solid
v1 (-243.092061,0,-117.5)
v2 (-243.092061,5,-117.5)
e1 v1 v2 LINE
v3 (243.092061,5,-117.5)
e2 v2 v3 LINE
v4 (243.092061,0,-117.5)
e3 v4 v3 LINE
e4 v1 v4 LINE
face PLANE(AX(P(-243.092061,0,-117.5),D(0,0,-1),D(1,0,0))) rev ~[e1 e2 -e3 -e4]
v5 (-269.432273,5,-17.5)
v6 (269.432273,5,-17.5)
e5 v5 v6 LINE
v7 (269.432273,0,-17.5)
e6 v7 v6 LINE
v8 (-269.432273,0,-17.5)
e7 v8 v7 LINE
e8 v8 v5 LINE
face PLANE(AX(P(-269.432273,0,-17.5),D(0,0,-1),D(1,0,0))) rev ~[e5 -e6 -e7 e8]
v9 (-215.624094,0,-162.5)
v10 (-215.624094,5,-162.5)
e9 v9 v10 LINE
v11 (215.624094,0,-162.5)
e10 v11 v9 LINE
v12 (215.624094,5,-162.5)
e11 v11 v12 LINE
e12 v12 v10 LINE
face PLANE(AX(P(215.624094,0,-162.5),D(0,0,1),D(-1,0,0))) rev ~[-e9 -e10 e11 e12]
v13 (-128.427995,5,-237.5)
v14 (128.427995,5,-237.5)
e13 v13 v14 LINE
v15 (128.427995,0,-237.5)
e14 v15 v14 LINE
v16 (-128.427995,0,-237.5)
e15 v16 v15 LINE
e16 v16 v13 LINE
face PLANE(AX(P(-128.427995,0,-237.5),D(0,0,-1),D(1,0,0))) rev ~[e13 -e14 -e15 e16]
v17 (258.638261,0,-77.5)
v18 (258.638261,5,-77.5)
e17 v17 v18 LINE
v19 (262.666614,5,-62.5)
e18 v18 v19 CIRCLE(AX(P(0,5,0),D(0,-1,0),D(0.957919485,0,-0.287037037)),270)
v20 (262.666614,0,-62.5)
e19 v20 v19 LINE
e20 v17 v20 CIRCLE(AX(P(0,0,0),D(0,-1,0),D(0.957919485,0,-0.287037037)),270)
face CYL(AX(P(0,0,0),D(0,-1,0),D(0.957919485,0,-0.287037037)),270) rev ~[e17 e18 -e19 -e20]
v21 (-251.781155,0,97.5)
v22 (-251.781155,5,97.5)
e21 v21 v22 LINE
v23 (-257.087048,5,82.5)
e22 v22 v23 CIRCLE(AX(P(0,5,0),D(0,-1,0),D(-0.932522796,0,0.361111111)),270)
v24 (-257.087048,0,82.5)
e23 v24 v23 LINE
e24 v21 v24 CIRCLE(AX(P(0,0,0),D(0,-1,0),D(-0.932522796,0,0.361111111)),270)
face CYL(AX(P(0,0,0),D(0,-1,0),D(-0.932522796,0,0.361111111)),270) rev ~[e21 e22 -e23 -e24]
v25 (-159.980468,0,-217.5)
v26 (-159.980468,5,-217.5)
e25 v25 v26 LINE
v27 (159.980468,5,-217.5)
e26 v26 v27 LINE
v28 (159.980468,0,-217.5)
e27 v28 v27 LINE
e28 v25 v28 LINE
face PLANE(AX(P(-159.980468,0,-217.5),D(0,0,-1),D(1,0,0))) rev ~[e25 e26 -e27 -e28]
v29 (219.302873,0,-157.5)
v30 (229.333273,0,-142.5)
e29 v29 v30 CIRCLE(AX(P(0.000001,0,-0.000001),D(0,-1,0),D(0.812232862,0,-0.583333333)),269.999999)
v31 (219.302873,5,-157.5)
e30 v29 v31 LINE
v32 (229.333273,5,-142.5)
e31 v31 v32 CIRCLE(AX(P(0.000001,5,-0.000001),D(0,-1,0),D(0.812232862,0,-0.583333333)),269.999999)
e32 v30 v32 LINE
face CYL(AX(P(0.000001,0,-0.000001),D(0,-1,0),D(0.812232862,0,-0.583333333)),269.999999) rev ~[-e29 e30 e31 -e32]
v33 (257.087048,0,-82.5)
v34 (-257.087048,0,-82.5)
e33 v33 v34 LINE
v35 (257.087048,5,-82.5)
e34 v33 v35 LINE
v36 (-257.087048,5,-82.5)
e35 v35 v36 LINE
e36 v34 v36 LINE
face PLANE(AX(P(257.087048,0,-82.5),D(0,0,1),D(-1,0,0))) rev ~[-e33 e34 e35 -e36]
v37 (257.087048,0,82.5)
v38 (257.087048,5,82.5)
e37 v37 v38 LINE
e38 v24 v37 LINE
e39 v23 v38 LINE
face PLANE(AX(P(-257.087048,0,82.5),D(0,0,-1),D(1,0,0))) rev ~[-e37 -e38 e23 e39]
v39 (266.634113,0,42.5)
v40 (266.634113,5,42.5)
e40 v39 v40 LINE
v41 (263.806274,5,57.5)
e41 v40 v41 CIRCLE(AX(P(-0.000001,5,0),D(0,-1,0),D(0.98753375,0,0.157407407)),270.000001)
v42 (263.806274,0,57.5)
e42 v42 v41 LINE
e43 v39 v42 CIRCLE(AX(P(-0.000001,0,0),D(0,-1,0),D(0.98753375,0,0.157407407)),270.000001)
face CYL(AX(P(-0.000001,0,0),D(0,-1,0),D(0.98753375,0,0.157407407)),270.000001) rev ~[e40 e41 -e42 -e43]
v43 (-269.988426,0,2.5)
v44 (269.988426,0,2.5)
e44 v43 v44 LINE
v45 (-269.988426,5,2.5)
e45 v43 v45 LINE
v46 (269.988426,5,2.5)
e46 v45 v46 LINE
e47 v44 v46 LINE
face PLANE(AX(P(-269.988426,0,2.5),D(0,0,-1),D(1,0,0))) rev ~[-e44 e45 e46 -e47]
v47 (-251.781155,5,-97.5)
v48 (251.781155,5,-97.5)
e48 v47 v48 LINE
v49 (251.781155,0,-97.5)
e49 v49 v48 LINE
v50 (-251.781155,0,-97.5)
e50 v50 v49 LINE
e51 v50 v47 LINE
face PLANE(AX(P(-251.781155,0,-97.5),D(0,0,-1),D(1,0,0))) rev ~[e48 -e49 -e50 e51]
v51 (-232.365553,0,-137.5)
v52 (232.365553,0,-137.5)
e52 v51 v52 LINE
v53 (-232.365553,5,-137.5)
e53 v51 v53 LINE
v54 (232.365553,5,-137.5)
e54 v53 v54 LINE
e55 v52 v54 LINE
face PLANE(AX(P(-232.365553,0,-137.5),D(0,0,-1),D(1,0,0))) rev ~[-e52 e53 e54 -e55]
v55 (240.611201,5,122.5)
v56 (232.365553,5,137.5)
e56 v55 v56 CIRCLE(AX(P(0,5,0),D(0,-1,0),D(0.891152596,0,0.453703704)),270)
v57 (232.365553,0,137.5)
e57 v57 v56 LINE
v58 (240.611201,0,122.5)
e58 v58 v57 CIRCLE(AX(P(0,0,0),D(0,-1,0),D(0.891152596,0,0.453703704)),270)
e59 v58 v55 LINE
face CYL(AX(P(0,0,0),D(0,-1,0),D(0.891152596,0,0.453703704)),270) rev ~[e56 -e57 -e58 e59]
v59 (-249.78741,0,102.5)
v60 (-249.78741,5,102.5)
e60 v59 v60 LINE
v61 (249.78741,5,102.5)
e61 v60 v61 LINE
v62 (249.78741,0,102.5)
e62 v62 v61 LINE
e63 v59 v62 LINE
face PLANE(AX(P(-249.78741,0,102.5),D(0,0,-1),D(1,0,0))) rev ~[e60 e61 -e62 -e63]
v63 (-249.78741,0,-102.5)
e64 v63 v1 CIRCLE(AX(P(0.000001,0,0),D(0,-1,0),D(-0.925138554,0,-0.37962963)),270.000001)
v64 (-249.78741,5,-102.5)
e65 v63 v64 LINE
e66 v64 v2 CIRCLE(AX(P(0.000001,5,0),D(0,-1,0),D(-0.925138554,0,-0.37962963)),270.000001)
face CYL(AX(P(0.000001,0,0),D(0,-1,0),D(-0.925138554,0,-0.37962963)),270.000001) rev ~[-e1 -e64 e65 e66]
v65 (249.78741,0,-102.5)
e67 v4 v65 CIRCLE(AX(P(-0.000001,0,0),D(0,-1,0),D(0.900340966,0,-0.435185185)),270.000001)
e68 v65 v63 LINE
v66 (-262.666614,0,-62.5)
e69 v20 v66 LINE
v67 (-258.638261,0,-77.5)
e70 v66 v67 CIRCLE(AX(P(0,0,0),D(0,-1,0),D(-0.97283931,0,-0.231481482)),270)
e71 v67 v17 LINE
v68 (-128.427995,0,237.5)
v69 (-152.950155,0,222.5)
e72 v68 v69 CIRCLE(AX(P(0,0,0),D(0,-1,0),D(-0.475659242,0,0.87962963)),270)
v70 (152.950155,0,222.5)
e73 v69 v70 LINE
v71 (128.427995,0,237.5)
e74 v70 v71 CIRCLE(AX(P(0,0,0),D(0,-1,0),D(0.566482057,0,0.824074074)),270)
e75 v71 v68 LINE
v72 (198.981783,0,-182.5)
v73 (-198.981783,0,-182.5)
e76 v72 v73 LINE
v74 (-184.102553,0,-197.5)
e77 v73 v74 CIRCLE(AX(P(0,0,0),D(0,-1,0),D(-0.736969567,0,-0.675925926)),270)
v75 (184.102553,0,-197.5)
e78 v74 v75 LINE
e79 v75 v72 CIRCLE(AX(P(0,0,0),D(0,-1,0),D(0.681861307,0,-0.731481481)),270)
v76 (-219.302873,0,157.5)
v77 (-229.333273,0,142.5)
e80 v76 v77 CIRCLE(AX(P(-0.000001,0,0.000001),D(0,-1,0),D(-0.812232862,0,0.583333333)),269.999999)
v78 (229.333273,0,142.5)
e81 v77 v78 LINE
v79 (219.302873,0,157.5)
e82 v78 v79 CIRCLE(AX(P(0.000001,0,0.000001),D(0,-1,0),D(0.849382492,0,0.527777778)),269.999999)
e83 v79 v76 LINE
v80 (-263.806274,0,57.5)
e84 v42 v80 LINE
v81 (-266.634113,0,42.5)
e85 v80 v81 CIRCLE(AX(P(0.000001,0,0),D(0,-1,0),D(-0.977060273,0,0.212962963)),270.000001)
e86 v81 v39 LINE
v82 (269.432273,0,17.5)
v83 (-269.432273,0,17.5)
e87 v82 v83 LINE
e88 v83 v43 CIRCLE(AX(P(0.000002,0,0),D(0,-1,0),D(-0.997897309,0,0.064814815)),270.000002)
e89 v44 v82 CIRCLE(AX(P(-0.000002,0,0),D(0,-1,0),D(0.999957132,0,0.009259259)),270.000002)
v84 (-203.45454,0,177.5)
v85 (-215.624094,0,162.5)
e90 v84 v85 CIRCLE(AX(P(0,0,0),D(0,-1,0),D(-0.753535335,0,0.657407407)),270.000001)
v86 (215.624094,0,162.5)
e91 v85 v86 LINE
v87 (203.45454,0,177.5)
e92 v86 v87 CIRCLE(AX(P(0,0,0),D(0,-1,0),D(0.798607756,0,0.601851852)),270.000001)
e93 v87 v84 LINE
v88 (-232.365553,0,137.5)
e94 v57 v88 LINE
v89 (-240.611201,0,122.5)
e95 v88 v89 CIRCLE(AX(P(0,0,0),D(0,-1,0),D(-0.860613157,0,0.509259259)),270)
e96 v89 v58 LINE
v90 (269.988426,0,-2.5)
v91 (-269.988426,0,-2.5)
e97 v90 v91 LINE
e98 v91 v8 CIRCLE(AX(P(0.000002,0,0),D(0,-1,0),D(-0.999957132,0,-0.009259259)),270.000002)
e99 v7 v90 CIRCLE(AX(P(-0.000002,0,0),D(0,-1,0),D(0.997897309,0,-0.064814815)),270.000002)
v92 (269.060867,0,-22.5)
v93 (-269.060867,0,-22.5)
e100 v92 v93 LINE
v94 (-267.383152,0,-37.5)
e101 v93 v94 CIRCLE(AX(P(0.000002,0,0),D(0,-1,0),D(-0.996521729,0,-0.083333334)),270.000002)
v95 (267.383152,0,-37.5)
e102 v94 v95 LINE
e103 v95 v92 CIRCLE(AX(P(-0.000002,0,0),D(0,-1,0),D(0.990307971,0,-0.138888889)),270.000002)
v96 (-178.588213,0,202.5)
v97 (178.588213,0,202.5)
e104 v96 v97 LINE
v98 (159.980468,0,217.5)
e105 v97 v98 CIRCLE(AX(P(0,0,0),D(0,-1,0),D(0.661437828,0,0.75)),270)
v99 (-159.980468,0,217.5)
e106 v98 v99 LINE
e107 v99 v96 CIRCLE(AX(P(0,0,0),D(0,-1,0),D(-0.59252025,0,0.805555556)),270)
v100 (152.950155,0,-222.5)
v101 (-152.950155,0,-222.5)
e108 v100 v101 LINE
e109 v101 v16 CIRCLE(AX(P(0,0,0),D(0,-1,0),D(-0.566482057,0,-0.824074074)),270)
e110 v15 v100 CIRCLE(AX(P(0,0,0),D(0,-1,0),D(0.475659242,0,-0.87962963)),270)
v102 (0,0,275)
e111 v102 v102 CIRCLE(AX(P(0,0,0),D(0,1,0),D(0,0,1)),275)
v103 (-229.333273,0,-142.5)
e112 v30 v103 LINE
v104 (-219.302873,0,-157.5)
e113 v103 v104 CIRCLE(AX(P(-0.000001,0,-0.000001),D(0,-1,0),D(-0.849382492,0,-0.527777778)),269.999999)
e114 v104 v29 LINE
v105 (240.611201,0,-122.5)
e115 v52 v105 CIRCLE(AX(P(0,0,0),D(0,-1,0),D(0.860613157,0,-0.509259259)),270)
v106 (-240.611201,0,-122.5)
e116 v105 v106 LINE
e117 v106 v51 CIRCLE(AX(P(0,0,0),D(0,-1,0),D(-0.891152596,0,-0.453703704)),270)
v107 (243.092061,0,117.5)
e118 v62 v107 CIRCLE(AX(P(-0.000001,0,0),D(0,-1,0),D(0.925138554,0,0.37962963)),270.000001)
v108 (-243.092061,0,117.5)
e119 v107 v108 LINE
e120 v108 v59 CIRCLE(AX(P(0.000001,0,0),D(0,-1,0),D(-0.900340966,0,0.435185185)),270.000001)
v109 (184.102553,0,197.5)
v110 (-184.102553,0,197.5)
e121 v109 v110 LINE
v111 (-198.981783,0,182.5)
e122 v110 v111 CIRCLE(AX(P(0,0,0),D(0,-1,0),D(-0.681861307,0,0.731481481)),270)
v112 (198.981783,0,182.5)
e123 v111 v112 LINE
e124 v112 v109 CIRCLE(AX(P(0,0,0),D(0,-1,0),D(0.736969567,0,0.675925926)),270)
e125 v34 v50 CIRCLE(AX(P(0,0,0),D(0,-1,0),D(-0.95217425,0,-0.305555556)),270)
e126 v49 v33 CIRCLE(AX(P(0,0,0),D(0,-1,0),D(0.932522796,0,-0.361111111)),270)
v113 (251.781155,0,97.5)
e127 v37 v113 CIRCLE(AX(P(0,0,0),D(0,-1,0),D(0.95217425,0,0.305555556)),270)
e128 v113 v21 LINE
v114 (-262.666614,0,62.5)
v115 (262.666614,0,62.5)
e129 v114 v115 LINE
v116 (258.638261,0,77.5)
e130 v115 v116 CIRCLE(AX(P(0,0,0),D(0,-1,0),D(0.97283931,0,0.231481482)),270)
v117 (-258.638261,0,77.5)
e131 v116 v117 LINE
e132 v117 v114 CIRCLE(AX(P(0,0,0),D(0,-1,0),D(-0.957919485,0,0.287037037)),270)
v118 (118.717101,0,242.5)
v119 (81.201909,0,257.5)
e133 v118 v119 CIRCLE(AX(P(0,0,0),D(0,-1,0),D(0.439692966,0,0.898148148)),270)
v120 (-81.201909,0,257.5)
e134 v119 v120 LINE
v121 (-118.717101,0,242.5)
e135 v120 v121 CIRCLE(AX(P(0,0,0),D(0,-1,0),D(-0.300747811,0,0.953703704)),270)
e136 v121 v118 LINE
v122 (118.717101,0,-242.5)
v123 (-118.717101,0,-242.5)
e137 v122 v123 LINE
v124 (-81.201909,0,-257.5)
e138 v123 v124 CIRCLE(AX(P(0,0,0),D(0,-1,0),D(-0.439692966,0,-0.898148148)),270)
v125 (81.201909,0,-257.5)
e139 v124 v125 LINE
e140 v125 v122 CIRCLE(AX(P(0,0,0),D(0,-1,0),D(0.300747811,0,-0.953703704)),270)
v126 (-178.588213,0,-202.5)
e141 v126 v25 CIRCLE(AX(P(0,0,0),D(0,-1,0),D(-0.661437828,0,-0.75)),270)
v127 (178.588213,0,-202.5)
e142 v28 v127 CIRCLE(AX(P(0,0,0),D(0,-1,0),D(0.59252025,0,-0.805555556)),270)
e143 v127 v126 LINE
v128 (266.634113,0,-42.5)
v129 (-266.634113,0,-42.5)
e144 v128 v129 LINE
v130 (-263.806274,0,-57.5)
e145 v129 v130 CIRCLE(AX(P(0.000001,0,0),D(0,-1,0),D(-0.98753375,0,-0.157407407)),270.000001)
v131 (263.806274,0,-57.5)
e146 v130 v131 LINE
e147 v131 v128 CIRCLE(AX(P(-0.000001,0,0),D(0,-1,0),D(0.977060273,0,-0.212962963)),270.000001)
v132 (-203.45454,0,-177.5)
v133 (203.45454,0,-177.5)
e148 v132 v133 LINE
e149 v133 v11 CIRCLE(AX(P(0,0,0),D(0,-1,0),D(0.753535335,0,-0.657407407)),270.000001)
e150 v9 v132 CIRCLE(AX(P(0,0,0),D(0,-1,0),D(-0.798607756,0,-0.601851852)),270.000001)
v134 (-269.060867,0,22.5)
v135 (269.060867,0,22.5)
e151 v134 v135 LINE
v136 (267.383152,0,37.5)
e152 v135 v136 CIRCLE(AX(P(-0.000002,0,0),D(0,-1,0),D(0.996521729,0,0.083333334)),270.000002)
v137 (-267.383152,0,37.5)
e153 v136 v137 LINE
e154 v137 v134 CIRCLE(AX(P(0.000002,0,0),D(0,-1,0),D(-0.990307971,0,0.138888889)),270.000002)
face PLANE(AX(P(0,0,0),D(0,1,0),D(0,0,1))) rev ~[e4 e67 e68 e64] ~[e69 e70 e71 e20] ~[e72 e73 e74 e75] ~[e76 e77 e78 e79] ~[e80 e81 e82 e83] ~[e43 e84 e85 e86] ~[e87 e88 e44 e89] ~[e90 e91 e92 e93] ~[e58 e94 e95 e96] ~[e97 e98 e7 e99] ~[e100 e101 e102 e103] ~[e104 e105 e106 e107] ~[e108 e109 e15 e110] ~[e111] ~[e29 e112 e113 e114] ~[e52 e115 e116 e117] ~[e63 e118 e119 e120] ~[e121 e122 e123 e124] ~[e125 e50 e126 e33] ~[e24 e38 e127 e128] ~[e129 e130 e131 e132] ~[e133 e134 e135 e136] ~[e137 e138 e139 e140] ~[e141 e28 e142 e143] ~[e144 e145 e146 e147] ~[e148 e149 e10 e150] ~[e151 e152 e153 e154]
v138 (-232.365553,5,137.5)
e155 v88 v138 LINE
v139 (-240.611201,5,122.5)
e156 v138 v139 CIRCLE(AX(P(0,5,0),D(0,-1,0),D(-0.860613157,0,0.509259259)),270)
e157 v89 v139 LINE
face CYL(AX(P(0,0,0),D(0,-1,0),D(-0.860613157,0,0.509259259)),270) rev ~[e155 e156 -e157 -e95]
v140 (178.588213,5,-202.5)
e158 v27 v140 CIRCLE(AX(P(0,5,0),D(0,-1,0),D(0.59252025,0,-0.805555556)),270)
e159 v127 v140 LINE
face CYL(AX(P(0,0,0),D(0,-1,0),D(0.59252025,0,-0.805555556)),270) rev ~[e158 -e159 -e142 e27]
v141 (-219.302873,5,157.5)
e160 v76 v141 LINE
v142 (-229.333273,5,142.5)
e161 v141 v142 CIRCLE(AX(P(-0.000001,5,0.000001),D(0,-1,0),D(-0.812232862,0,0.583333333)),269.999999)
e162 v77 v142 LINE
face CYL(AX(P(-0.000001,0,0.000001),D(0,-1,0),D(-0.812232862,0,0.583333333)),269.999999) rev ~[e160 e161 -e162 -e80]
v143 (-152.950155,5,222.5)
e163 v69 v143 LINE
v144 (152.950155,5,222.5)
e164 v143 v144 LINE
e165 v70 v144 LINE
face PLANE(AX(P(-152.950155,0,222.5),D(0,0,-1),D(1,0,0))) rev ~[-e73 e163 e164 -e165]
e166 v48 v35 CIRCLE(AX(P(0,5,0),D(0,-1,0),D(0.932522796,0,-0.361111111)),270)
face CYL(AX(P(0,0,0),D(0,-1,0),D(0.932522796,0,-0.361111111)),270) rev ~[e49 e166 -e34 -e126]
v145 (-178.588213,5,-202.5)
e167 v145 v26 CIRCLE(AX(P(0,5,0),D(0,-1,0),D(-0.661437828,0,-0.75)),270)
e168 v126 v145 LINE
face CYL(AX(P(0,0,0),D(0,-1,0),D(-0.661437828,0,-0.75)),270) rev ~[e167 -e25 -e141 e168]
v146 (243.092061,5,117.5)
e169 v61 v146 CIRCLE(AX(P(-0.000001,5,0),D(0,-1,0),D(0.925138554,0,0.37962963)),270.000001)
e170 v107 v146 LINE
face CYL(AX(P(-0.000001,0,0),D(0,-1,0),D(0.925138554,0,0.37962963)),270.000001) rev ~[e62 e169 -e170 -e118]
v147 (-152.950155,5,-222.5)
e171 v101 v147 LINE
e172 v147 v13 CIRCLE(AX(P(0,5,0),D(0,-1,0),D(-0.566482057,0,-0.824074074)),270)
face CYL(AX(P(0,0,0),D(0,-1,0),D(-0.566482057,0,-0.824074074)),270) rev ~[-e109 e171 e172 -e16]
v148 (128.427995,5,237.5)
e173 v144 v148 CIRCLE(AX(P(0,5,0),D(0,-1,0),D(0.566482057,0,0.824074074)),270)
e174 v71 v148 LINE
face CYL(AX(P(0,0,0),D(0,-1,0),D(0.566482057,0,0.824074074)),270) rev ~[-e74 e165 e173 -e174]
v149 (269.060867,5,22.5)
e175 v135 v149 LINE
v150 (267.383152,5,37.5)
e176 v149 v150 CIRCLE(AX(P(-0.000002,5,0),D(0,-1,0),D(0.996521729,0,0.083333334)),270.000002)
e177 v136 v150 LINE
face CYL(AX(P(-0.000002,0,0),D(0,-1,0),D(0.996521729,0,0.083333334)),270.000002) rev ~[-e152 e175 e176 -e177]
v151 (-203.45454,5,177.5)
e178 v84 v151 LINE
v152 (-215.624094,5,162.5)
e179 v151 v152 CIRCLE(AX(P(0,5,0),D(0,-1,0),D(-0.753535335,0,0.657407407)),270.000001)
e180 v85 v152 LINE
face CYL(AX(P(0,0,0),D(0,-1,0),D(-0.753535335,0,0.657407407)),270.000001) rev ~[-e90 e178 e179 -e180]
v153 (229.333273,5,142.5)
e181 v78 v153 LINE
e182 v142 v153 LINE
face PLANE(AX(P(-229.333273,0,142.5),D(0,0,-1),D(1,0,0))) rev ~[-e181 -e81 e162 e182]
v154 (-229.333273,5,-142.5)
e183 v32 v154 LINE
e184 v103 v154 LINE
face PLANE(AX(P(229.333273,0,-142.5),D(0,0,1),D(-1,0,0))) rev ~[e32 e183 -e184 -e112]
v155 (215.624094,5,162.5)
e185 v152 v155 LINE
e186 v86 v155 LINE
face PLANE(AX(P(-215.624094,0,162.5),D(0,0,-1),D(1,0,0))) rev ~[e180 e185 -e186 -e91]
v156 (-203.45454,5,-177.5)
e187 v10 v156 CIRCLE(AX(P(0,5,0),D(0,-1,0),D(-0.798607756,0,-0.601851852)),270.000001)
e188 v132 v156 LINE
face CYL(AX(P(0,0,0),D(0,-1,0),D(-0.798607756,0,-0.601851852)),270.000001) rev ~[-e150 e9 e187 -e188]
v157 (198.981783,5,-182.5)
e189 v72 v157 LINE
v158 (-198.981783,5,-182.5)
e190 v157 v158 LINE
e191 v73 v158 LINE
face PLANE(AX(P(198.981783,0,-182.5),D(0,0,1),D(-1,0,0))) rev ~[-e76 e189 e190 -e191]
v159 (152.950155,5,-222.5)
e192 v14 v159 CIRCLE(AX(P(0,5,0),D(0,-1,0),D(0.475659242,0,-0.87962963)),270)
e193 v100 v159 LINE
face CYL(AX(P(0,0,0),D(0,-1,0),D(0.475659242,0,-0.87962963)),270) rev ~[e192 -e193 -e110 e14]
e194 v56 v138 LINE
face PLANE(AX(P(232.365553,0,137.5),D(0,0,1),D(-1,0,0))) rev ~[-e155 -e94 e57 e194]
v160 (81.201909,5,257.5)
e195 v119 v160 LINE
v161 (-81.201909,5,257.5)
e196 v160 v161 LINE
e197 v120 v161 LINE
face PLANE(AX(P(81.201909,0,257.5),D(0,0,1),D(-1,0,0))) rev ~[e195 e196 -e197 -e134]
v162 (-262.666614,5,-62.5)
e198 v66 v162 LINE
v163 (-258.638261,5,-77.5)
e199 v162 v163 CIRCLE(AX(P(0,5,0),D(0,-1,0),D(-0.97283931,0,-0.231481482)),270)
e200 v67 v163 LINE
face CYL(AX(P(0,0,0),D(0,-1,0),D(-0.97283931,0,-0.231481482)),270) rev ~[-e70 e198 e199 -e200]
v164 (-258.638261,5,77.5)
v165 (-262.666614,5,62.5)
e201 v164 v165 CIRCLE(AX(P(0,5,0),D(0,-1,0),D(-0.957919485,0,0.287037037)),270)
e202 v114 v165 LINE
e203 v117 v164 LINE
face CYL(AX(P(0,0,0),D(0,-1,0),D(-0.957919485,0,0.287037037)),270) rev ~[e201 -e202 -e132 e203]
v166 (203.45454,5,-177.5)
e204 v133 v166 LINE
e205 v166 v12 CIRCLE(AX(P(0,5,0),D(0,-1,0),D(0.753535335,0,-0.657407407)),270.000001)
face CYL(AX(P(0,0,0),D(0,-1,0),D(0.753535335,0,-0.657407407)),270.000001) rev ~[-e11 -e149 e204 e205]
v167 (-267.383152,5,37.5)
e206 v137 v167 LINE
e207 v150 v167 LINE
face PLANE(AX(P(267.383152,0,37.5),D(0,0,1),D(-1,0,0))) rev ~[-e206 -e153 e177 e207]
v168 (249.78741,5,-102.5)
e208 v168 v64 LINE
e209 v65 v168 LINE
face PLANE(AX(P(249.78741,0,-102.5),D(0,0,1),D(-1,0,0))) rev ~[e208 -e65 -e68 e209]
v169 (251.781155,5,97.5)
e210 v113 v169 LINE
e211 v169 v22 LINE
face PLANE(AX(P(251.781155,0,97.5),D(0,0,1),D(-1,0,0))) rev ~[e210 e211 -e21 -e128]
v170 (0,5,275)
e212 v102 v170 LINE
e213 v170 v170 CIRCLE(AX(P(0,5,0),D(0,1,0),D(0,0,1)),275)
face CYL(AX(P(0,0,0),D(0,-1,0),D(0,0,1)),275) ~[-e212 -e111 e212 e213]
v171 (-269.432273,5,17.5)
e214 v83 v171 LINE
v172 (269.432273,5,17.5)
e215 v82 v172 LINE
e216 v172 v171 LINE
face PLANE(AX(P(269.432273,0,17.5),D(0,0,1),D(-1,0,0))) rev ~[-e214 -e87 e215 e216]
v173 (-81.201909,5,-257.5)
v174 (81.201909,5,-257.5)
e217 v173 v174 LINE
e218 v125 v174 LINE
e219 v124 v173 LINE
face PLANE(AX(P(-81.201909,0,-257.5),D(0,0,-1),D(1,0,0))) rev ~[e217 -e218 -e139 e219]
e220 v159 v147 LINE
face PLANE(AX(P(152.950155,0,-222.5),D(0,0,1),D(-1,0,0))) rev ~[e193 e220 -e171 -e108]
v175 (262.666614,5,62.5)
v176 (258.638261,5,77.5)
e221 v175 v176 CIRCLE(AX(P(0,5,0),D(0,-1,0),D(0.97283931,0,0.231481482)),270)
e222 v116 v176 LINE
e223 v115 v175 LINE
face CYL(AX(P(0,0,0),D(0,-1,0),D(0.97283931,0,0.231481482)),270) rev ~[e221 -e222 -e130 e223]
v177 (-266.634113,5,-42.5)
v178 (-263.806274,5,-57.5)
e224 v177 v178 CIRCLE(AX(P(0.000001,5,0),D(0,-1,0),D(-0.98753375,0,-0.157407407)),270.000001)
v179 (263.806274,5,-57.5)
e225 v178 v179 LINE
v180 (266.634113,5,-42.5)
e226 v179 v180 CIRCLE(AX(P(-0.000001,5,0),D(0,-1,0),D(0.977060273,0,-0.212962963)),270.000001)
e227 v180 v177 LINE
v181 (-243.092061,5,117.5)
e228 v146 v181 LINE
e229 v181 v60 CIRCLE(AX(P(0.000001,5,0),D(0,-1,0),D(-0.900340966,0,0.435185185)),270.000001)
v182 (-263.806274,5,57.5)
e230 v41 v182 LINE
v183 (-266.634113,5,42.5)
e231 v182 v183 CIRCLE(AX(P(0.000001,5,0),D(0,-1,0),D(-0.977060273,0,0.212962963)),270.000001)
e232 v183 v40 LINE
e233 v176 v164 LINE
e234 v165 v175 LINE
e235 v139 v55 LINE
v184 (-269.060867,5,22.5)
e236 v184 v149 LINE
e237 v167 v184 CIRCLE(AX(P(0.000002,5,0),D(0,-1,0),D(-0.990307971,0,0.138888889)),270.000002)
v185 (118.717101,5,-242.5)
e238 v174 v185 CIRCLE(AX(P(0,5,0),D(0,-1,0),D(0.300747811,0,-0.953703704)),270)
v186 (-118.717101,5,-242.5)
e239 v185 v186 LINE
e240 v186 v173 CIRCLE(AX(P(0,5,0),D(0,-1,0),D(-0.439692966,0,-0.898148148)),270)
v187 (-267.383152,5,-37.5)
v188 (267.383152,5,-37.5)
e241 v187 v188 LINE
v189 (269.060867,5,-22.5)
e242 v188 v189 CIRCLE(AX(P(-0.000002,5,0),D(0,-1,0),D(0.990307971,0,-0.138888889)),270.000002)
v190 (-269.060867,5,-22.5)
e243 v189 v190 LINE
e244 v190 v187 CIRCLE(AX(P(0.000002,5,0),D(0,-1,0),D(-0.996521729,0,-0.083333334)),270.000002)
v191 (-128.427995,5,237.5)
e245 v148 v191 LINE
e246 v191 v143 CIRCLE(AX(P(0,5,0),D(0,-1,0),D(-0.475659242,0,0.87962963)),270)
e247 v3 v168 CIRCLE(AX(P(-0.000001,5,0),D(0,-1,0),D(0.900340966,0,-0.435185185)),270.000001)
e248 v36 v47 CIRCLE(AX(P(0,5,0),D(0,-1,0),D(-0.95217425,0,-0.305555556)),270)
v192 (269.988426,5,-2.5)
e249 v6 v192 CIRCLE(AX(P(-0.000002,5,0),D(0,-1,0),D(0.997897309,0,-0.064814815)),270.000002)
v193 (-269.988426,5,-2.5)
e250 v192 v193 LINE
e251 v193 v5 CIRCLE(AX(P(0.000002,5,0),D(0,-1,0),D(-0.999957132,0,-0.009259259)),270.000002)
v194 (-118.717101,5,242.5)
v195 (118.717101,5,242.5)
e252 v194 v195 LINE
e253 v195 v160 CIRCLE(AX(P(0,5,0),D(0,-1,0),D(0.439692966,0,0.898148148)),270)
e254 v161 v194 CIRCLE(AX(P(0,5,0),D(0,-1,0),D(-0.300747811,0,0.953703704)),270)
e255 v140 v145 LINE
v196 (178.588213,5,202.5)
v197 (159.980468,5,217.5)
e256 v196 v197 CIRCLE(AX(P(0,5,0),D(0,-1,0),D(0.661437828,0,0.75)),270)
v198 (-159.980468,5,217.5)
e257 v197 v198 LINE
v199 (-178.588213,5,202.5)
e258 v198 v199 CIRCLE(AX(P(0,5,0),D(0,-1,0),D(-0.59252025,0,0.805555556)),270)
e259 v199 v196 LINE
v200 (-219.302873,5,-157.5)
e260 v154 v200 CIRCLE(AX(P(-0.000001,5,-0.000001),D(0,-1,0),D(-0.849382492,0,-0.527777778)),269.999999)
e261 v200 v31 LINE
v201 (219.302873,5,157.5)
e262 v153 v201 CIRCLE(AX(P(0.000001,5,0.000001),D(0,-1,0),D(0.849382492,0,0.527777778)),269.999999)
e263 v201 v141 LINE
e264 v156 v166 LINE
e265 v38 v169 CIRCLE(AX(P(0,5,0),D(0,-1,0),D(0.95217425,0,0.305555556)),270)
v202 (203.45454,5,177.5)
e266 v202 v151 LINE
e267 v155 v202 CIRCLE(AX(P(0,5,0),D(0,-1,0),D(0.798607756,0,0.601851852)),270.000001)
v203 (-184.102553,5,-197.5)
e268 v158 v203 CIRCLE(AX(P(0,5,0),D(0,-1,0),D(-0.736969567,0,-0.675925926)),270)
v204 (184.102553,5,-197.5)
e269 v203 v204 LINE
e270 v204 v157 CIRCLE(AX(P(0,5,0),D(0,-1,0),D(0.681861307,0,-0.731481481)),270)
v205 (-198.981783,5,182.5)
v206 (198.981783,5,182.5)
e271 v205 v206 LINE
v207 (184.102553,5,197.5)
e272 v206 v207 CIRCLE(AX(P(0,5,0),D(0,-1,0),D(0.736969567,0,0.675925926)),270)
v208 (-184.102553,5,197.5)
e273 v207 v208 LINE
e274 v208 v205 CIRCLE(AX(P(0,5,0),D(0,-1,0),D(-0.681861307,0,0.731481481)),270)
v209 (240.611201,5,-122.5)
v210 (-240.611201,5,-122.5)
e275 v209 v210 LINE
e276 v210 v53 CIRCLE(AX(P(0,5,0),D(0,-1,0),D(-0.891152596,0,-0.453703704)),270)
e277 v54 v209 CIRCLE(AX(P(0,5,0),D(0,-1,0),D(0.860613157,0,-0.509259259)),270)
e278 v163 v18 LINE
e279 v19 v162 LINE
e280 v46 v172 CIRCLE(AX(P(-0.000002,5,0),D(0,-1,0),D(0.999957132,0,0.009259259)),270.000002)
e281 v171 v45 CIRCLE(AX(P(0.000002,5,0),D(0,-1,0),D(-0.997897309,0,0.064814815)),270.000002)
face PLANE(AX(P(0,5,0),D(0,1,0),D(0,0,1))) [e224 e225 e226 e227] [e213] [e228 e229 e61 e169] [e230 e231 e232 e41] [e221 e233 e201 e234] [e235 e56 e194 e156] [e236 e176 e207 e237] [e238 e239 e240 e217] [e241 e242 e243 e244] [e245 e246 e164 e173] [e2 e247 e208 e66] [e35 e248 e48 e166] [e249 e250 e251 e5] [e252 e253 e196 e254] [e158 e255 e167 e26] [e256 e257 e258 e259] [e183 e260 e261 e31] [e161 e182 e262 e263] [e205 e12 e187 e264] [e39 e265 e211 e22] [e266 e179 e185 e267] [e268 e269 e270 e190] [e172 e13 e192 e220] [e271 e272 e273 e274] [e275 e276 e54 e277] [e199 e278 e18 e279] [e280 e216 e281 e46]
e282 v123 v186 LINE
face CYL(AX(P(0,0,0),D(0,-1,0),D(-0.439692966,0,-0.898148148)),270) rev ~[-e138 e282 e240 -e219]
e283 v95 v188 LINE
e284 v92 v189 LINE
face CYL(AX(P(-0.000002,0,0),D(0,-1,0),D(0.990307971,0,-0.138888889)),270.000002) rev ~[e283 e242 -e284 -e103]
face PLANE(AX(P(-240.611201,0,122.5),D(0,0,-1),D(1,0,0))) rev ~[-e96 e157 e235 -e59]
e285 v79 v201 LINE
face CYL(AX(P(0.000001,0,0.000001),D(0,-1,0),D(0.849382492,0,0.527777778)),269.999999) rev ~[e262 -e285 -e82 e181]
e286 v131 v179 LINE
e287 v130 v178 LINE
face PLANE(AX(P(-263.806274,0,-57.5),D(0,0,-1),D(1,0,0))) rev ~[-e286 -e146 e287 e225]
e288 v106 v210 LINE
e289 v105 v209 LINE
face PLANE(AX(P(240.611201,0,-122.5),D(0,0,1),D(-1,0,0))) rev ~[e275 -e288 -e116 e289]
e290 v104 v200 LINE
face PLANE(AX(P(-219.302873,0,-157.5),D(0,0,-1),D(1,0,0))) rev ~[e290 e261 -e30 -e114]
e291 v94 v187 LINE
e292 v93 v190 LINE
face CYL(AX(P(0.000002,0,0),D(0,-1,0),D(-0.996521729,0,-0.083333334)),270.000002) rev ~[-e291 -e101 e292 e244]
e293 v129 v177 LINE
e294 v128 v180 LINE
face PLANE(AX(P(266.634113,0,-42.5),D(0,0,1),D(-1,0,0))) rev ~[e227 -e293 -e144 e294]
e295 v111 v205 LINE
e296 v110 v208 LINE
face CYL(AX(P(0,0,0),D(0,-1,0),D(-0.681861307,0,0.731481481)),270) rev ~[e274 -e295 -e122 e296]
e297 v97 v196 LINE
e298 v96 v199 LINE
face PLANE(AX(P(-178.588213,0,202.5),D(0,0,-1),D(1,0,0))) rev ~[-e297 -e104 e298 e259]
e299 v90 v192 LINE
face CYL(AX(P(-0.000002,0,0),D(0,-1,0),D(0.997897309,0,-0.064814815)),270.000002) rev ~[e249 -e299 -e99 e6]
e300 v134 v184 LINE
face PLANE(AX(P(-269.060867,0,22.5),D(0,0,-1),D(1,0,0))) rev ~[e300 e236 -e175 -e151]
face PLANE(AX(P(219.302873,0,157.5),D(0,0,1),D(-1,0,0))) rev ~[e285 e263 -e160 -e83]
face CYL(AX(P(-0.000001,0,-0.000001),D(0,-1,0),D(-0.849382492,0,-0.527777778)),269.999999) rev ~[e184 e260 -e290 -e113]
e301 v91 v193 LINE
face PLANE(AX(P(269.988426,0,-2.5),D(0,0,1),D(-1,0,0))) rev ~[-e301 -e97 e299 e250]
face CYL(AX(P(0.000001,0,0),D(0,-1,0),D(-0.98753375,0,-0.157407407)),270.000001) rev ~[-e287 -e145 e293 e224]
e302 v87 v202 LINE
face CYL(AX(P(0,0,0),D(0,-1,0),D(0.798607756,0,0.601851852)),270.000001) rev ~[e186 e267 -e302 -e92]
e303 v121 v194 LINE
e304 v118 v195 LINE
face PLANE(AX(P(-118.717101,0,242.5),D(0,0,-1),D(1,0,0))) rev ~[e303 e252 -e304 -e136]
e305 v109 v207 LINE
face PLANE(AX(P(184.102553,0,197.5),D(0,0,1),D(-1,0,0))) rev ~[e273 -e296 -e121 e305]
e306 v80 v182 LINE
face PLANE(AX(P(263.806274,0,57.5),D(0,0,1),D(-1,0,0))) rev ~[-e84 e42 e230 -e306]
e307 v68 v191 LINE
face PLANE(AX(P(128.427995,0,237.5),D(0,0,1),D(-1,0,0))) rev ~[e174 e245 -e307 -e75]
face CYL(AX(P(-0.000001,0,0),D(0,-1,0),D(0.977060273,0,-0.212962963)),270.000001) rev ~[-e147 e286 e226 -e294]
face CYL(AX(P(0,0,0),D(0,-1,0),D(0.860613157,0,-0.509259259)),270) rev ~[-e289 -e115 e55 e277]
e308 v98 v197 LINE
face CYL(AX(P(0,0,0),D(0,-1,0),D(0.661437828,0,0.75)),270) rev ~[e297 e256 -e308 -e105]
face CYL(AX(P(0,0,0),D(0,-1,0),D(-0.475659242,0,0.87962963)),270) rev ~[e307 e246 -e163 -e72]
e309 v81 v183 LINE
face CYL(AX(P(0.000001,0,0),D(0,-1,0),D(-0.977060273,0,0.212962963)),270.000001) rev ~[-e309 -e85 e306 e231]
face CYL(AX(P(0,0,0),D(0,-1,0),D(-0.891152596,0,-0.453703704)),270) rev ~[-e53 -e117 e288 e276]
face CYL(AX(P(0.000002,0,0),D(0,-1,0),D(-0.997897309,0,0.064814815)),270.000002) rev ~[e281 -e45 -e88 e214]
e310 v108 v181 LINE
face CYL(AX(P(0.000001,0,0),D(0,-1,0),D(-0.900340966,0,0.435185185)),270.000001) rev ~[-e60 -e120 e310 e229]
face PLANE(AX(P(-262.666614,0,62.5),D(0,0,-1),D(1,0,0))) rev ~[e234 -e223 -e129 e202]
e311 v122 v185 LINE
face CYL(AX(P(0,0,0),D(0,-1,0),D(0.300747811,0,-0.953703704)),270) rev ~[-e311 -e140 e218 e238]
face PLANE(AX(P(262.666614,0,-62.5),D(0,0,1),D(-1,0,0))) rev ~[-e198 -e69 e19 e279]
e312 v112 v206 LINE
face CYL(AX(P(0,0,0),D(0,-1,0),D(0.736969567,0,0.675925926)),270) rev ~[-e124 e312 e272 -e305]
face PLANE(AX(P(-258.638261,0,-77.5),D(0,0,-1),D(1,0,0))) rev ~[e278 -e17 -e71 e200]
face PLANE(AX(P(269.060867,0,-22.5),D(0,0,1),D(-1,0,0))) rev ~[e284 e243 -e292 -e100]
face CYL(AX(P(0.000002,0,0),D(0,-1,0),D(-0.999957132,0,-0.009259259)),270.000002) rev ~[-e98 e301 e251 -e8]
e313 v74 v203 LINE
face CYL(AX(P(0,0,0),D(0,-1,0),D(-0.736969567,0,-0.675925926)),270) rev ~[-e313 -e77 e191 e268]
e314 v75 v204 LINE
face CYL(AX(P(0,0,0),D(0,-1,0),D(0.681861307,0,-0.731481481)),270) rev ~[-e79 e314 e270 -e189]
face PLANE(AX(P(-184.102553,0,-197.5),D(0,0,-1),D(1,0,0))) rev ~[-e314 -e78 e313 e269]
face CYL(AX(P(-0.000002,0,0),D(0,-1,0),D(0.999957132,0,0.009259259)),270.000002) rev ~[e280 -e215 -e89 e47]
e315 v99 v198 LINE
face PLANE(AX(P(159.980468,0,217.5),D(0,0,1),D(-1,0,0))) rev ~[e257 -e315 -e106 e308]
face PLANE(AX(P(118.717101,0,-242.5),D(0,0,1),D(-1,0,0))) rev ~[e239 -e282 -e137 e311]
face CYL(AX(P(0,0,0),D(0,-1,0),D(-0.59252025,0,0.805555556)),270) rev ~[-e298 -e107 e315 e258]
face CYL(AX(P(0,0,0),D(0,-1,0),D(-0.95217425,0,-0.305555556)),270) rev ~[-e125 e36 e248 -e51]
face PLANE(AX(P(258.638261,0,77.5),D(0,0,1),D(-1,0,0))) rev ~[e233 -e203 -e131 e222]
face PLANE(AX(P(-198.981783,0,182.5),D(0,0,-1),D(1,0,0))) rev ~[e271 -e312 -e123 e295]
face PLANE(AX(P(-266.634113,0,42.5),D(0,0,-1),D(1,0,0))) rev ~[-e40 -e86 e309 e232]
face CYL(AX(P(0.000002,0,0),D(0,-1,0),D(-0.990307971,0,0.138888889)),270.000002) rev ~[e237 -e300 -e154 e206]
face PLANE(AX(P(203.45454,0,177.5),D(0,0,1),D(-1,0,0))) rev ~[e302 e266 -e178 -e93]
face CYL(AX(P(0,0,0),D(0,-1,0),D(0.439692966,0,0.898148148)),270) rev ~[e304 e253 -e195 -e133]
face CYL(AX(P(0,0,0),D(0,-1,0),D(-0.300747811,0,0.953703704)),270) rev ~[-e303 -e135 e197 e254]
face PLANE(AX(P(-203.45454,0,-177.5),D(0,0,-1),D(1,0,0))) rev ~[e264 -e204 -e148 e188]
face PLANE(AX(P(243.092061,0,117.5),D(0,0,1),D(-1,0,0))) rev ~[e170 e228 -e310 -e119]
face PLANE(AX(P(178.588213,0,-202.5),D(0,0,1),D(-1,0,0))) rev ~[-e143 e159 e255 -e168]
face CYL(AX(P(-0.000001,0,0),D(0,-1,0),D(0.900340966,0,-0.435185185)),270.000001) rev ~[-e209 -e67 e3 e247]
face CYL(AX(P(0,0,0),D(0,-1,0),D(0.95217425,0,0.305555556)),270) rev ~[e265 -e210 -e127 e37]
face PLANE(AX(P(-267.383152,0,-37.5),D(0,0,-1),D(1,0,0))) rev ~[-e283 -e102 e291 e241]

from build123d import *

# Parameters (mm, degrees)
SKETCH1_R           = 275
BOSS_EXTRUDE1_DEPTH = 5


with BuildPart() as part:
    # Sketch1 → Boss-Extrude1 (new body)
    with BuildSketch(Plane(origin=(0, 0, 0), x_dir=(1, 0, 0), z_dir=(0, 1, 0))):
        with Locations(Location((0, 0, 0), (0, 0, 270))):
            Circle(SKETCH1_R)
        with BuildLine():
            Line((269.988425678, 2.5), (-269.988425678, 2.5))
            ThreePointArc((-269.988425678, 2.5), (-269.814607969, 10.003865569), (-269.432273494, 17.5))
            Line((-269.432273494, 17.5), (269.432273494, 17.5))
            ThreePointArc((269.432273494, 17.5), (269.814607969, 10.003865569), (269.988425678, 2.5))
        make_face(mode=Mode.SUBTRACT)
        with BuildLine():
            Line((-269.988425678, -2.5), (269.988425678, -2.5))
            ThreePointArc((269.988425678, -2.5), (269.814607969, -10.003865569), (269.432273494, -17.5))
            Line((269.432273494, -17.5), (-269.432273494, -17.5))
            ThreePointArc((-269.432273494, -17.5), (-269.814607969, -10.003865569), (-269.988425678, -2.5))
        make_face(mode=Mode.SUBTRACT)
        with BuildLine():
            ThreePointArc((267.38315205, 37.5), (268.326846063, 30.011725736), (269.06086672, 22.5))
            Line((269.06086672, 22.5), (-269.06086672, 22.5))
            ThreePointArc((-269.06086672, 22.5), (-268.326846063, 30.011725736), (-267.38315205, 37.5))
            Line((-267.38315205, 37.5), (267.38315205, 37.5))
        make_face(mode=Mode.SUBTRACT)
        with BuildLine():
            ThreePointArc((263.806273618, 57.5), (265.326215877, 50.019987688), (266.634112596, 42.5))
            Line((266.634112596, 42.5), (-266.634112596, 42.5))
            ThreePointArc((-266.634112596, 42.5), (-265.326215877, 50.019987688), (-263.806273618, 57.5))
            Line((-263.806273618, 57.5), (263.806273618, 57.5))
        make_face(mode=Mode.SUBTRACT)
        with BuildLine():
            ThreePointArc((258.638260897, 77.5), (260.760317328, 70.02897191), (262.66661379, 62.5))
            Line((262.66661379, 62.5), (-262.66661379, 62.5))
            ThreePointArc((-262.66661379, 62.5), (-260.760317328, 70.02897191), (-258.638260897, 77.5))
            Line((-258.638260897, 77.5), (258.638260897, 77.5))
        make_face(mode=Mode.SUBTRACT)
        with BuildLine():
            ThreePointArc((251.781154974, 97.5), (254.544616671, 90.039092198), (257.087047515, 82.5))
            Line((257.087047515, 82.5), (-257.087047515, 82.5))
            ThreePointArc((-257.087047515, 82.5), (-254.544616671, 90.039092198), (-251.781154974, 97.5))
            Line((-251.781154974, 97.5), (251.781154974, 97.5))
        make_face(mode=Mode.SUBTRACT)
        with BuildLine():
            ThreePointArc((243.092060751, 117.5), (246.553834032, 110.050928774), (249.787409611, 102.5))
            Line((249.787409611, 102.5), (-249.787409611, 102.5))
            ThreePointArc((-249.787409611, 102.5), (-246.553834032, 110.050928774), (-243.092060751, 117.5))
            Line((-243.092060751, 117.5), (243.092060751, 117.5))
        make_face(mode=Mode.SUBTRACT)
        with BuildLine():
            ThreePointArc((232.365552524, 137.5), (236.607274446, 130.065359259), (240.611200903, 122.5))
            Line((240.611200903, 122.5), (-240.611200903, 122.5))
            ThreePointArc((-240.611200903, 122.5), (-236.607274446, 130.065359259), (-232.365552524, 137.5))
            Line((-232.365552524, 137.5), (232.365552524, 137.5))
        make_face(mode=Mode.SUBTRACT)
        with BuildLine():
            ThreePointArc((219.302872758, 157.5), (224.443417745, 150.083817353), (229.333272771, 142.5))
            Line((229.333272771, 142.5), (-229.333272771, 142.5))
            ThreePointArc((-229.333272771, 142.5), (-224.443417745, 150.083817353), (-219.302872758, 157.5))
            Line((-219.302872758, 157.5), (219.302872758, 157.5))
        make_face(mode=Mode.SUBTRACT)
        with BuildLine():
            ThreePointArc((203.454540377, 177.5), (209.673497347, 170.108860763), (215.624094201, 162.5))
            Line((215.624094201, 162.5), (-215.624094201, 162.5))
            ThreePointArc((-215.624094201, 162.5), (-209.673497347, 170.108860763), (-203.454540377, 177.5))
            Line((-203.454540377, 177.5), (203.454540377, 177.5))
        make_face(mode=Mode.SUBTRACT)
        with BuildLine():
            ThreePointArc((184.102552943, 197.5), (191.688946284, 190.145596511), (198.981783086, 182.5))
            Line((198.981783086, 182.5), (-198.981783086, 182.5))
            ThreePointArc((-198.981783086, 182.5), (-191.688946284, 190.145596511), (-184.102552943, 197.5))
            Line((-184.102552943, 197.5), (184.102552943, 197.5))
        make_face(mode=Mode.SUBTRACT)
        with BuildLine():
            ThreePointArc((159.980467558, 217.5), (169.450399668, 210.205999087), (178.588213497, 202.5))
            Line((178.588213497, 202.5), (-178.588213497, 202.5))
            ThreePointArc((-178.588213497, 202.5), (-169.450399668, 210.205999087), (-159.980467558, 217.5))
            Line((-159.980467558, 217.5), (159.980467558, 217.5))
        make_face(mode=Mode.SUBTRACT)
        with BuildLine():
            ThreePointArc((128.42799539, 237.5), (140.888842421, 230.326581361), (152.950155279, 222.5))
            Line((152.950155279, 222.5), (-152.950155279, 222.5))
            ThreePointArc((-152.950155279, 222.5), (-140.888842421, 230.326581361), (-128.42799539, 237.5))
            Line((-128.42799539, 237.5), (128.42799539, 237.5))
        make_face(mode=Mode.SUBTRACT)
        with BuildLine():
            ThreePointArc((81.201908845, 257.5), (100.240473836, 250.702707215), (118.717100706, 242.5))
            Line((118.717100706, 242.5), (-118.717100706, 242.5))
            ThreePointArc((-118.717100706, 242.5), (-100.240473836, 250.702707215), (-81.201908845, 257.5))
            Line((-81.201908845, 257.5), (81.201908845, 257.5))
        make_face(mode=Mode.SUBTRACT)
        with BuildLine():
            ThreePointArc((269.06086672, -22.5), (268.326846063, -30.011725736), (267.38315205, -37.5))
            Line((267.38315205, -37.5), (-267.38315205, -37.5))
            ThreePointArc((-267.38315205, -37.5), (-268.326846063, -30.011725736), (-269.06086672, -22.5))
            Line((-269.06086672, -22.5), (269.06086672, -22.5))
        make_face(mode=Mode.SUBTRACT)
        with BuildLine():
            ThreePointArc((-263.806273618, -57.5), (-265.326215877, -50.019987688), (-266.634112596, -42.5))
            Line((-266.634112596, -42.5), (266.634112596, -42.5))
            ThreePointArc((266.634112596, -42.5), (265.326215877, -50.019987688), (263.806273618, -57.5))
            Line((263.806273618, -57.5), (-263.806273618, -57.5))
        make_face(mode=Mode.SUBTRACT)
        with BuildLine():
            ThreePointArc((-258.638260897, -77.5), (-260.760317328, -70.02897191), (-262.66661379, -62.5))
            Line((-262.66661379, -62.5), (262.66661379, -62.5))
            ThreePointArc((262.66661379, -62.5), (260.760317328, -70.02897191), (258.638260897, -77.5))
            Line((258.638260897, -77.5), (-258.638260897, -77.5))
        make_face(mode=Mode.SUBTRACT)
        with BuildLine():
            ThreePointArc((-251.781154974, -97.5), (-254.544616671, -90.039092198), (-257.087047515, -82.5))
            Line((-257.087047515, -82.5), (257.087047515, -82.5))
            ThreePointArc((257.087047515, -82.5), (254.544616671, -90.039092198), (251.781154974, -97.5))
            Line((251.781154974, -97.5), (-251.781154974, -97.5))
        make_face(mode=Mode.SUBTRACT)
        with BuildLine():
            ThreePointArc((-243.092060751, -117.5), (-246.553834032, -110.050928774), (-249.787409611, -102.5))
            Line((-249.787409611, -102.5), (249.787409611, -102.5))
            ThreePointArc((249.787409611, -102.5), (246.553834032, -110.050928774), (243.092060751, -117.5))
            Line((243.092060751, -117.5), (-243.092060751, -117.5))
        make_face(mode=Mode.SUBTRACT)
        with BuildLine():
            ThreePointArc((-232.365552524, -137.5), (-236.607274446, -130.065359259), (-240.611200903, -122.5))
            Line((-240.611200903, -122.5), (240.611200903, -122.5))
            ThreePointArc((240.611200903, -122.5), (236.607274446, -130.065359259), (232.365552524, -137.5))
            Line((232.365552524, -137.5), (-232.365552524, -137.5))
        make_face(mode=Mode.SUBTRACT)
        with BuildLine():
            ThreePointArc((-219.302872758, -157.5), (-224.443417745, -150.083817353), (-229.333272771, -142.5))
            Line((-229.333272771, -142.5), (229.333272771, -142.5))
            ThreePointArc((229.333272771, -142.5), (224.443417745, -150.083817353), (219.302872758, -157.5))
            Line((219.302872758, -157.5), (-219.302872758, -157.5))
        make_face(mode=Mode.SUBTRACT)
        with BuildLine():
            ThreePointArc((-203.454540377, -177.5), (-209.673497347, -170.108860763), (-215.624094201, -162.5))
            Line((-215.624094201, -162.5), (215.624094201, -162.5))
            ThreePointArc((215.624094201, -162.5), (209.673497347, -170.108860763), (203.454540377, -177.5))
            Line((203.454540377, -177.5), (-203.454540377, -177.5))
        make_face(mode=Mode.SUBTRACT)
        with BuildLine():
            ThreePointArc((-184.102552943, -197.5), (-191.688946284, -190.145596511), (-198.981783086, -182.5))
            Line((-198.981783086, -182.5), (198.981783086, -182.5))
            ThreePointArc((198.981783086, -182.5), (191.688946284, -190.145596511), (184.102552943, -197.5))
            Line((184.102552943, -197.5), (-184.102552943, -197.5))
        make_face(mode=Mode.SUBTRACT)
        with BuildLine():
            ThreePointArc((-159.980467558, -217.5), (-169.450399668, -210.205999087), (-178.588213497, -202.5))
            Line((-178.588213497, -202.5), (178.588213497, -202.5))
            ThreePointArc((178.588213497, -202.5), (169.450399668, -210.205999087), (159.980467558, -217.5))
            Line((159.980467558, -217.5), (-159.980467558, -217.5))
        make_face(mode=Mode.SUBTRACT)
        with BuildLine():
            ThreePointArc((-128.42799539, -237.5), (-140.888842421, -230.326581361), (-152.950155279, -222.5))
            Line((-152.950155279, -222.5), (152.950155279, -222.5))
            ThreePointArc((152.950155279, -222.5), (140.888842421, -230.326581361), (128.42799539, -237.5))
            Line((128.42799539, -237.5), (-128.42799539, -237.5))
        make_face(mode=Mode.SUBTRACT)
        with BuildLine():
            ThreePointArc((-81.201908845, -257.5), (-100.240473836, -250.702707215), (-118.717100706, -242.5))
            Line((-118.717100706, -242.5), (118.717100706, -242.5))
            ThreePointArc((118.717100706, -242.5), (100.240473836, -250.702707215), (81.201908845, -257.5))
            Line((81.201908845, -257.5), (-81.201908845, -257.5))
        make_face(mode=Mode.SUBTRACT)
    extrude(amount=BOSS_EXTRUDE1_DEPTH)


solid = part.part
